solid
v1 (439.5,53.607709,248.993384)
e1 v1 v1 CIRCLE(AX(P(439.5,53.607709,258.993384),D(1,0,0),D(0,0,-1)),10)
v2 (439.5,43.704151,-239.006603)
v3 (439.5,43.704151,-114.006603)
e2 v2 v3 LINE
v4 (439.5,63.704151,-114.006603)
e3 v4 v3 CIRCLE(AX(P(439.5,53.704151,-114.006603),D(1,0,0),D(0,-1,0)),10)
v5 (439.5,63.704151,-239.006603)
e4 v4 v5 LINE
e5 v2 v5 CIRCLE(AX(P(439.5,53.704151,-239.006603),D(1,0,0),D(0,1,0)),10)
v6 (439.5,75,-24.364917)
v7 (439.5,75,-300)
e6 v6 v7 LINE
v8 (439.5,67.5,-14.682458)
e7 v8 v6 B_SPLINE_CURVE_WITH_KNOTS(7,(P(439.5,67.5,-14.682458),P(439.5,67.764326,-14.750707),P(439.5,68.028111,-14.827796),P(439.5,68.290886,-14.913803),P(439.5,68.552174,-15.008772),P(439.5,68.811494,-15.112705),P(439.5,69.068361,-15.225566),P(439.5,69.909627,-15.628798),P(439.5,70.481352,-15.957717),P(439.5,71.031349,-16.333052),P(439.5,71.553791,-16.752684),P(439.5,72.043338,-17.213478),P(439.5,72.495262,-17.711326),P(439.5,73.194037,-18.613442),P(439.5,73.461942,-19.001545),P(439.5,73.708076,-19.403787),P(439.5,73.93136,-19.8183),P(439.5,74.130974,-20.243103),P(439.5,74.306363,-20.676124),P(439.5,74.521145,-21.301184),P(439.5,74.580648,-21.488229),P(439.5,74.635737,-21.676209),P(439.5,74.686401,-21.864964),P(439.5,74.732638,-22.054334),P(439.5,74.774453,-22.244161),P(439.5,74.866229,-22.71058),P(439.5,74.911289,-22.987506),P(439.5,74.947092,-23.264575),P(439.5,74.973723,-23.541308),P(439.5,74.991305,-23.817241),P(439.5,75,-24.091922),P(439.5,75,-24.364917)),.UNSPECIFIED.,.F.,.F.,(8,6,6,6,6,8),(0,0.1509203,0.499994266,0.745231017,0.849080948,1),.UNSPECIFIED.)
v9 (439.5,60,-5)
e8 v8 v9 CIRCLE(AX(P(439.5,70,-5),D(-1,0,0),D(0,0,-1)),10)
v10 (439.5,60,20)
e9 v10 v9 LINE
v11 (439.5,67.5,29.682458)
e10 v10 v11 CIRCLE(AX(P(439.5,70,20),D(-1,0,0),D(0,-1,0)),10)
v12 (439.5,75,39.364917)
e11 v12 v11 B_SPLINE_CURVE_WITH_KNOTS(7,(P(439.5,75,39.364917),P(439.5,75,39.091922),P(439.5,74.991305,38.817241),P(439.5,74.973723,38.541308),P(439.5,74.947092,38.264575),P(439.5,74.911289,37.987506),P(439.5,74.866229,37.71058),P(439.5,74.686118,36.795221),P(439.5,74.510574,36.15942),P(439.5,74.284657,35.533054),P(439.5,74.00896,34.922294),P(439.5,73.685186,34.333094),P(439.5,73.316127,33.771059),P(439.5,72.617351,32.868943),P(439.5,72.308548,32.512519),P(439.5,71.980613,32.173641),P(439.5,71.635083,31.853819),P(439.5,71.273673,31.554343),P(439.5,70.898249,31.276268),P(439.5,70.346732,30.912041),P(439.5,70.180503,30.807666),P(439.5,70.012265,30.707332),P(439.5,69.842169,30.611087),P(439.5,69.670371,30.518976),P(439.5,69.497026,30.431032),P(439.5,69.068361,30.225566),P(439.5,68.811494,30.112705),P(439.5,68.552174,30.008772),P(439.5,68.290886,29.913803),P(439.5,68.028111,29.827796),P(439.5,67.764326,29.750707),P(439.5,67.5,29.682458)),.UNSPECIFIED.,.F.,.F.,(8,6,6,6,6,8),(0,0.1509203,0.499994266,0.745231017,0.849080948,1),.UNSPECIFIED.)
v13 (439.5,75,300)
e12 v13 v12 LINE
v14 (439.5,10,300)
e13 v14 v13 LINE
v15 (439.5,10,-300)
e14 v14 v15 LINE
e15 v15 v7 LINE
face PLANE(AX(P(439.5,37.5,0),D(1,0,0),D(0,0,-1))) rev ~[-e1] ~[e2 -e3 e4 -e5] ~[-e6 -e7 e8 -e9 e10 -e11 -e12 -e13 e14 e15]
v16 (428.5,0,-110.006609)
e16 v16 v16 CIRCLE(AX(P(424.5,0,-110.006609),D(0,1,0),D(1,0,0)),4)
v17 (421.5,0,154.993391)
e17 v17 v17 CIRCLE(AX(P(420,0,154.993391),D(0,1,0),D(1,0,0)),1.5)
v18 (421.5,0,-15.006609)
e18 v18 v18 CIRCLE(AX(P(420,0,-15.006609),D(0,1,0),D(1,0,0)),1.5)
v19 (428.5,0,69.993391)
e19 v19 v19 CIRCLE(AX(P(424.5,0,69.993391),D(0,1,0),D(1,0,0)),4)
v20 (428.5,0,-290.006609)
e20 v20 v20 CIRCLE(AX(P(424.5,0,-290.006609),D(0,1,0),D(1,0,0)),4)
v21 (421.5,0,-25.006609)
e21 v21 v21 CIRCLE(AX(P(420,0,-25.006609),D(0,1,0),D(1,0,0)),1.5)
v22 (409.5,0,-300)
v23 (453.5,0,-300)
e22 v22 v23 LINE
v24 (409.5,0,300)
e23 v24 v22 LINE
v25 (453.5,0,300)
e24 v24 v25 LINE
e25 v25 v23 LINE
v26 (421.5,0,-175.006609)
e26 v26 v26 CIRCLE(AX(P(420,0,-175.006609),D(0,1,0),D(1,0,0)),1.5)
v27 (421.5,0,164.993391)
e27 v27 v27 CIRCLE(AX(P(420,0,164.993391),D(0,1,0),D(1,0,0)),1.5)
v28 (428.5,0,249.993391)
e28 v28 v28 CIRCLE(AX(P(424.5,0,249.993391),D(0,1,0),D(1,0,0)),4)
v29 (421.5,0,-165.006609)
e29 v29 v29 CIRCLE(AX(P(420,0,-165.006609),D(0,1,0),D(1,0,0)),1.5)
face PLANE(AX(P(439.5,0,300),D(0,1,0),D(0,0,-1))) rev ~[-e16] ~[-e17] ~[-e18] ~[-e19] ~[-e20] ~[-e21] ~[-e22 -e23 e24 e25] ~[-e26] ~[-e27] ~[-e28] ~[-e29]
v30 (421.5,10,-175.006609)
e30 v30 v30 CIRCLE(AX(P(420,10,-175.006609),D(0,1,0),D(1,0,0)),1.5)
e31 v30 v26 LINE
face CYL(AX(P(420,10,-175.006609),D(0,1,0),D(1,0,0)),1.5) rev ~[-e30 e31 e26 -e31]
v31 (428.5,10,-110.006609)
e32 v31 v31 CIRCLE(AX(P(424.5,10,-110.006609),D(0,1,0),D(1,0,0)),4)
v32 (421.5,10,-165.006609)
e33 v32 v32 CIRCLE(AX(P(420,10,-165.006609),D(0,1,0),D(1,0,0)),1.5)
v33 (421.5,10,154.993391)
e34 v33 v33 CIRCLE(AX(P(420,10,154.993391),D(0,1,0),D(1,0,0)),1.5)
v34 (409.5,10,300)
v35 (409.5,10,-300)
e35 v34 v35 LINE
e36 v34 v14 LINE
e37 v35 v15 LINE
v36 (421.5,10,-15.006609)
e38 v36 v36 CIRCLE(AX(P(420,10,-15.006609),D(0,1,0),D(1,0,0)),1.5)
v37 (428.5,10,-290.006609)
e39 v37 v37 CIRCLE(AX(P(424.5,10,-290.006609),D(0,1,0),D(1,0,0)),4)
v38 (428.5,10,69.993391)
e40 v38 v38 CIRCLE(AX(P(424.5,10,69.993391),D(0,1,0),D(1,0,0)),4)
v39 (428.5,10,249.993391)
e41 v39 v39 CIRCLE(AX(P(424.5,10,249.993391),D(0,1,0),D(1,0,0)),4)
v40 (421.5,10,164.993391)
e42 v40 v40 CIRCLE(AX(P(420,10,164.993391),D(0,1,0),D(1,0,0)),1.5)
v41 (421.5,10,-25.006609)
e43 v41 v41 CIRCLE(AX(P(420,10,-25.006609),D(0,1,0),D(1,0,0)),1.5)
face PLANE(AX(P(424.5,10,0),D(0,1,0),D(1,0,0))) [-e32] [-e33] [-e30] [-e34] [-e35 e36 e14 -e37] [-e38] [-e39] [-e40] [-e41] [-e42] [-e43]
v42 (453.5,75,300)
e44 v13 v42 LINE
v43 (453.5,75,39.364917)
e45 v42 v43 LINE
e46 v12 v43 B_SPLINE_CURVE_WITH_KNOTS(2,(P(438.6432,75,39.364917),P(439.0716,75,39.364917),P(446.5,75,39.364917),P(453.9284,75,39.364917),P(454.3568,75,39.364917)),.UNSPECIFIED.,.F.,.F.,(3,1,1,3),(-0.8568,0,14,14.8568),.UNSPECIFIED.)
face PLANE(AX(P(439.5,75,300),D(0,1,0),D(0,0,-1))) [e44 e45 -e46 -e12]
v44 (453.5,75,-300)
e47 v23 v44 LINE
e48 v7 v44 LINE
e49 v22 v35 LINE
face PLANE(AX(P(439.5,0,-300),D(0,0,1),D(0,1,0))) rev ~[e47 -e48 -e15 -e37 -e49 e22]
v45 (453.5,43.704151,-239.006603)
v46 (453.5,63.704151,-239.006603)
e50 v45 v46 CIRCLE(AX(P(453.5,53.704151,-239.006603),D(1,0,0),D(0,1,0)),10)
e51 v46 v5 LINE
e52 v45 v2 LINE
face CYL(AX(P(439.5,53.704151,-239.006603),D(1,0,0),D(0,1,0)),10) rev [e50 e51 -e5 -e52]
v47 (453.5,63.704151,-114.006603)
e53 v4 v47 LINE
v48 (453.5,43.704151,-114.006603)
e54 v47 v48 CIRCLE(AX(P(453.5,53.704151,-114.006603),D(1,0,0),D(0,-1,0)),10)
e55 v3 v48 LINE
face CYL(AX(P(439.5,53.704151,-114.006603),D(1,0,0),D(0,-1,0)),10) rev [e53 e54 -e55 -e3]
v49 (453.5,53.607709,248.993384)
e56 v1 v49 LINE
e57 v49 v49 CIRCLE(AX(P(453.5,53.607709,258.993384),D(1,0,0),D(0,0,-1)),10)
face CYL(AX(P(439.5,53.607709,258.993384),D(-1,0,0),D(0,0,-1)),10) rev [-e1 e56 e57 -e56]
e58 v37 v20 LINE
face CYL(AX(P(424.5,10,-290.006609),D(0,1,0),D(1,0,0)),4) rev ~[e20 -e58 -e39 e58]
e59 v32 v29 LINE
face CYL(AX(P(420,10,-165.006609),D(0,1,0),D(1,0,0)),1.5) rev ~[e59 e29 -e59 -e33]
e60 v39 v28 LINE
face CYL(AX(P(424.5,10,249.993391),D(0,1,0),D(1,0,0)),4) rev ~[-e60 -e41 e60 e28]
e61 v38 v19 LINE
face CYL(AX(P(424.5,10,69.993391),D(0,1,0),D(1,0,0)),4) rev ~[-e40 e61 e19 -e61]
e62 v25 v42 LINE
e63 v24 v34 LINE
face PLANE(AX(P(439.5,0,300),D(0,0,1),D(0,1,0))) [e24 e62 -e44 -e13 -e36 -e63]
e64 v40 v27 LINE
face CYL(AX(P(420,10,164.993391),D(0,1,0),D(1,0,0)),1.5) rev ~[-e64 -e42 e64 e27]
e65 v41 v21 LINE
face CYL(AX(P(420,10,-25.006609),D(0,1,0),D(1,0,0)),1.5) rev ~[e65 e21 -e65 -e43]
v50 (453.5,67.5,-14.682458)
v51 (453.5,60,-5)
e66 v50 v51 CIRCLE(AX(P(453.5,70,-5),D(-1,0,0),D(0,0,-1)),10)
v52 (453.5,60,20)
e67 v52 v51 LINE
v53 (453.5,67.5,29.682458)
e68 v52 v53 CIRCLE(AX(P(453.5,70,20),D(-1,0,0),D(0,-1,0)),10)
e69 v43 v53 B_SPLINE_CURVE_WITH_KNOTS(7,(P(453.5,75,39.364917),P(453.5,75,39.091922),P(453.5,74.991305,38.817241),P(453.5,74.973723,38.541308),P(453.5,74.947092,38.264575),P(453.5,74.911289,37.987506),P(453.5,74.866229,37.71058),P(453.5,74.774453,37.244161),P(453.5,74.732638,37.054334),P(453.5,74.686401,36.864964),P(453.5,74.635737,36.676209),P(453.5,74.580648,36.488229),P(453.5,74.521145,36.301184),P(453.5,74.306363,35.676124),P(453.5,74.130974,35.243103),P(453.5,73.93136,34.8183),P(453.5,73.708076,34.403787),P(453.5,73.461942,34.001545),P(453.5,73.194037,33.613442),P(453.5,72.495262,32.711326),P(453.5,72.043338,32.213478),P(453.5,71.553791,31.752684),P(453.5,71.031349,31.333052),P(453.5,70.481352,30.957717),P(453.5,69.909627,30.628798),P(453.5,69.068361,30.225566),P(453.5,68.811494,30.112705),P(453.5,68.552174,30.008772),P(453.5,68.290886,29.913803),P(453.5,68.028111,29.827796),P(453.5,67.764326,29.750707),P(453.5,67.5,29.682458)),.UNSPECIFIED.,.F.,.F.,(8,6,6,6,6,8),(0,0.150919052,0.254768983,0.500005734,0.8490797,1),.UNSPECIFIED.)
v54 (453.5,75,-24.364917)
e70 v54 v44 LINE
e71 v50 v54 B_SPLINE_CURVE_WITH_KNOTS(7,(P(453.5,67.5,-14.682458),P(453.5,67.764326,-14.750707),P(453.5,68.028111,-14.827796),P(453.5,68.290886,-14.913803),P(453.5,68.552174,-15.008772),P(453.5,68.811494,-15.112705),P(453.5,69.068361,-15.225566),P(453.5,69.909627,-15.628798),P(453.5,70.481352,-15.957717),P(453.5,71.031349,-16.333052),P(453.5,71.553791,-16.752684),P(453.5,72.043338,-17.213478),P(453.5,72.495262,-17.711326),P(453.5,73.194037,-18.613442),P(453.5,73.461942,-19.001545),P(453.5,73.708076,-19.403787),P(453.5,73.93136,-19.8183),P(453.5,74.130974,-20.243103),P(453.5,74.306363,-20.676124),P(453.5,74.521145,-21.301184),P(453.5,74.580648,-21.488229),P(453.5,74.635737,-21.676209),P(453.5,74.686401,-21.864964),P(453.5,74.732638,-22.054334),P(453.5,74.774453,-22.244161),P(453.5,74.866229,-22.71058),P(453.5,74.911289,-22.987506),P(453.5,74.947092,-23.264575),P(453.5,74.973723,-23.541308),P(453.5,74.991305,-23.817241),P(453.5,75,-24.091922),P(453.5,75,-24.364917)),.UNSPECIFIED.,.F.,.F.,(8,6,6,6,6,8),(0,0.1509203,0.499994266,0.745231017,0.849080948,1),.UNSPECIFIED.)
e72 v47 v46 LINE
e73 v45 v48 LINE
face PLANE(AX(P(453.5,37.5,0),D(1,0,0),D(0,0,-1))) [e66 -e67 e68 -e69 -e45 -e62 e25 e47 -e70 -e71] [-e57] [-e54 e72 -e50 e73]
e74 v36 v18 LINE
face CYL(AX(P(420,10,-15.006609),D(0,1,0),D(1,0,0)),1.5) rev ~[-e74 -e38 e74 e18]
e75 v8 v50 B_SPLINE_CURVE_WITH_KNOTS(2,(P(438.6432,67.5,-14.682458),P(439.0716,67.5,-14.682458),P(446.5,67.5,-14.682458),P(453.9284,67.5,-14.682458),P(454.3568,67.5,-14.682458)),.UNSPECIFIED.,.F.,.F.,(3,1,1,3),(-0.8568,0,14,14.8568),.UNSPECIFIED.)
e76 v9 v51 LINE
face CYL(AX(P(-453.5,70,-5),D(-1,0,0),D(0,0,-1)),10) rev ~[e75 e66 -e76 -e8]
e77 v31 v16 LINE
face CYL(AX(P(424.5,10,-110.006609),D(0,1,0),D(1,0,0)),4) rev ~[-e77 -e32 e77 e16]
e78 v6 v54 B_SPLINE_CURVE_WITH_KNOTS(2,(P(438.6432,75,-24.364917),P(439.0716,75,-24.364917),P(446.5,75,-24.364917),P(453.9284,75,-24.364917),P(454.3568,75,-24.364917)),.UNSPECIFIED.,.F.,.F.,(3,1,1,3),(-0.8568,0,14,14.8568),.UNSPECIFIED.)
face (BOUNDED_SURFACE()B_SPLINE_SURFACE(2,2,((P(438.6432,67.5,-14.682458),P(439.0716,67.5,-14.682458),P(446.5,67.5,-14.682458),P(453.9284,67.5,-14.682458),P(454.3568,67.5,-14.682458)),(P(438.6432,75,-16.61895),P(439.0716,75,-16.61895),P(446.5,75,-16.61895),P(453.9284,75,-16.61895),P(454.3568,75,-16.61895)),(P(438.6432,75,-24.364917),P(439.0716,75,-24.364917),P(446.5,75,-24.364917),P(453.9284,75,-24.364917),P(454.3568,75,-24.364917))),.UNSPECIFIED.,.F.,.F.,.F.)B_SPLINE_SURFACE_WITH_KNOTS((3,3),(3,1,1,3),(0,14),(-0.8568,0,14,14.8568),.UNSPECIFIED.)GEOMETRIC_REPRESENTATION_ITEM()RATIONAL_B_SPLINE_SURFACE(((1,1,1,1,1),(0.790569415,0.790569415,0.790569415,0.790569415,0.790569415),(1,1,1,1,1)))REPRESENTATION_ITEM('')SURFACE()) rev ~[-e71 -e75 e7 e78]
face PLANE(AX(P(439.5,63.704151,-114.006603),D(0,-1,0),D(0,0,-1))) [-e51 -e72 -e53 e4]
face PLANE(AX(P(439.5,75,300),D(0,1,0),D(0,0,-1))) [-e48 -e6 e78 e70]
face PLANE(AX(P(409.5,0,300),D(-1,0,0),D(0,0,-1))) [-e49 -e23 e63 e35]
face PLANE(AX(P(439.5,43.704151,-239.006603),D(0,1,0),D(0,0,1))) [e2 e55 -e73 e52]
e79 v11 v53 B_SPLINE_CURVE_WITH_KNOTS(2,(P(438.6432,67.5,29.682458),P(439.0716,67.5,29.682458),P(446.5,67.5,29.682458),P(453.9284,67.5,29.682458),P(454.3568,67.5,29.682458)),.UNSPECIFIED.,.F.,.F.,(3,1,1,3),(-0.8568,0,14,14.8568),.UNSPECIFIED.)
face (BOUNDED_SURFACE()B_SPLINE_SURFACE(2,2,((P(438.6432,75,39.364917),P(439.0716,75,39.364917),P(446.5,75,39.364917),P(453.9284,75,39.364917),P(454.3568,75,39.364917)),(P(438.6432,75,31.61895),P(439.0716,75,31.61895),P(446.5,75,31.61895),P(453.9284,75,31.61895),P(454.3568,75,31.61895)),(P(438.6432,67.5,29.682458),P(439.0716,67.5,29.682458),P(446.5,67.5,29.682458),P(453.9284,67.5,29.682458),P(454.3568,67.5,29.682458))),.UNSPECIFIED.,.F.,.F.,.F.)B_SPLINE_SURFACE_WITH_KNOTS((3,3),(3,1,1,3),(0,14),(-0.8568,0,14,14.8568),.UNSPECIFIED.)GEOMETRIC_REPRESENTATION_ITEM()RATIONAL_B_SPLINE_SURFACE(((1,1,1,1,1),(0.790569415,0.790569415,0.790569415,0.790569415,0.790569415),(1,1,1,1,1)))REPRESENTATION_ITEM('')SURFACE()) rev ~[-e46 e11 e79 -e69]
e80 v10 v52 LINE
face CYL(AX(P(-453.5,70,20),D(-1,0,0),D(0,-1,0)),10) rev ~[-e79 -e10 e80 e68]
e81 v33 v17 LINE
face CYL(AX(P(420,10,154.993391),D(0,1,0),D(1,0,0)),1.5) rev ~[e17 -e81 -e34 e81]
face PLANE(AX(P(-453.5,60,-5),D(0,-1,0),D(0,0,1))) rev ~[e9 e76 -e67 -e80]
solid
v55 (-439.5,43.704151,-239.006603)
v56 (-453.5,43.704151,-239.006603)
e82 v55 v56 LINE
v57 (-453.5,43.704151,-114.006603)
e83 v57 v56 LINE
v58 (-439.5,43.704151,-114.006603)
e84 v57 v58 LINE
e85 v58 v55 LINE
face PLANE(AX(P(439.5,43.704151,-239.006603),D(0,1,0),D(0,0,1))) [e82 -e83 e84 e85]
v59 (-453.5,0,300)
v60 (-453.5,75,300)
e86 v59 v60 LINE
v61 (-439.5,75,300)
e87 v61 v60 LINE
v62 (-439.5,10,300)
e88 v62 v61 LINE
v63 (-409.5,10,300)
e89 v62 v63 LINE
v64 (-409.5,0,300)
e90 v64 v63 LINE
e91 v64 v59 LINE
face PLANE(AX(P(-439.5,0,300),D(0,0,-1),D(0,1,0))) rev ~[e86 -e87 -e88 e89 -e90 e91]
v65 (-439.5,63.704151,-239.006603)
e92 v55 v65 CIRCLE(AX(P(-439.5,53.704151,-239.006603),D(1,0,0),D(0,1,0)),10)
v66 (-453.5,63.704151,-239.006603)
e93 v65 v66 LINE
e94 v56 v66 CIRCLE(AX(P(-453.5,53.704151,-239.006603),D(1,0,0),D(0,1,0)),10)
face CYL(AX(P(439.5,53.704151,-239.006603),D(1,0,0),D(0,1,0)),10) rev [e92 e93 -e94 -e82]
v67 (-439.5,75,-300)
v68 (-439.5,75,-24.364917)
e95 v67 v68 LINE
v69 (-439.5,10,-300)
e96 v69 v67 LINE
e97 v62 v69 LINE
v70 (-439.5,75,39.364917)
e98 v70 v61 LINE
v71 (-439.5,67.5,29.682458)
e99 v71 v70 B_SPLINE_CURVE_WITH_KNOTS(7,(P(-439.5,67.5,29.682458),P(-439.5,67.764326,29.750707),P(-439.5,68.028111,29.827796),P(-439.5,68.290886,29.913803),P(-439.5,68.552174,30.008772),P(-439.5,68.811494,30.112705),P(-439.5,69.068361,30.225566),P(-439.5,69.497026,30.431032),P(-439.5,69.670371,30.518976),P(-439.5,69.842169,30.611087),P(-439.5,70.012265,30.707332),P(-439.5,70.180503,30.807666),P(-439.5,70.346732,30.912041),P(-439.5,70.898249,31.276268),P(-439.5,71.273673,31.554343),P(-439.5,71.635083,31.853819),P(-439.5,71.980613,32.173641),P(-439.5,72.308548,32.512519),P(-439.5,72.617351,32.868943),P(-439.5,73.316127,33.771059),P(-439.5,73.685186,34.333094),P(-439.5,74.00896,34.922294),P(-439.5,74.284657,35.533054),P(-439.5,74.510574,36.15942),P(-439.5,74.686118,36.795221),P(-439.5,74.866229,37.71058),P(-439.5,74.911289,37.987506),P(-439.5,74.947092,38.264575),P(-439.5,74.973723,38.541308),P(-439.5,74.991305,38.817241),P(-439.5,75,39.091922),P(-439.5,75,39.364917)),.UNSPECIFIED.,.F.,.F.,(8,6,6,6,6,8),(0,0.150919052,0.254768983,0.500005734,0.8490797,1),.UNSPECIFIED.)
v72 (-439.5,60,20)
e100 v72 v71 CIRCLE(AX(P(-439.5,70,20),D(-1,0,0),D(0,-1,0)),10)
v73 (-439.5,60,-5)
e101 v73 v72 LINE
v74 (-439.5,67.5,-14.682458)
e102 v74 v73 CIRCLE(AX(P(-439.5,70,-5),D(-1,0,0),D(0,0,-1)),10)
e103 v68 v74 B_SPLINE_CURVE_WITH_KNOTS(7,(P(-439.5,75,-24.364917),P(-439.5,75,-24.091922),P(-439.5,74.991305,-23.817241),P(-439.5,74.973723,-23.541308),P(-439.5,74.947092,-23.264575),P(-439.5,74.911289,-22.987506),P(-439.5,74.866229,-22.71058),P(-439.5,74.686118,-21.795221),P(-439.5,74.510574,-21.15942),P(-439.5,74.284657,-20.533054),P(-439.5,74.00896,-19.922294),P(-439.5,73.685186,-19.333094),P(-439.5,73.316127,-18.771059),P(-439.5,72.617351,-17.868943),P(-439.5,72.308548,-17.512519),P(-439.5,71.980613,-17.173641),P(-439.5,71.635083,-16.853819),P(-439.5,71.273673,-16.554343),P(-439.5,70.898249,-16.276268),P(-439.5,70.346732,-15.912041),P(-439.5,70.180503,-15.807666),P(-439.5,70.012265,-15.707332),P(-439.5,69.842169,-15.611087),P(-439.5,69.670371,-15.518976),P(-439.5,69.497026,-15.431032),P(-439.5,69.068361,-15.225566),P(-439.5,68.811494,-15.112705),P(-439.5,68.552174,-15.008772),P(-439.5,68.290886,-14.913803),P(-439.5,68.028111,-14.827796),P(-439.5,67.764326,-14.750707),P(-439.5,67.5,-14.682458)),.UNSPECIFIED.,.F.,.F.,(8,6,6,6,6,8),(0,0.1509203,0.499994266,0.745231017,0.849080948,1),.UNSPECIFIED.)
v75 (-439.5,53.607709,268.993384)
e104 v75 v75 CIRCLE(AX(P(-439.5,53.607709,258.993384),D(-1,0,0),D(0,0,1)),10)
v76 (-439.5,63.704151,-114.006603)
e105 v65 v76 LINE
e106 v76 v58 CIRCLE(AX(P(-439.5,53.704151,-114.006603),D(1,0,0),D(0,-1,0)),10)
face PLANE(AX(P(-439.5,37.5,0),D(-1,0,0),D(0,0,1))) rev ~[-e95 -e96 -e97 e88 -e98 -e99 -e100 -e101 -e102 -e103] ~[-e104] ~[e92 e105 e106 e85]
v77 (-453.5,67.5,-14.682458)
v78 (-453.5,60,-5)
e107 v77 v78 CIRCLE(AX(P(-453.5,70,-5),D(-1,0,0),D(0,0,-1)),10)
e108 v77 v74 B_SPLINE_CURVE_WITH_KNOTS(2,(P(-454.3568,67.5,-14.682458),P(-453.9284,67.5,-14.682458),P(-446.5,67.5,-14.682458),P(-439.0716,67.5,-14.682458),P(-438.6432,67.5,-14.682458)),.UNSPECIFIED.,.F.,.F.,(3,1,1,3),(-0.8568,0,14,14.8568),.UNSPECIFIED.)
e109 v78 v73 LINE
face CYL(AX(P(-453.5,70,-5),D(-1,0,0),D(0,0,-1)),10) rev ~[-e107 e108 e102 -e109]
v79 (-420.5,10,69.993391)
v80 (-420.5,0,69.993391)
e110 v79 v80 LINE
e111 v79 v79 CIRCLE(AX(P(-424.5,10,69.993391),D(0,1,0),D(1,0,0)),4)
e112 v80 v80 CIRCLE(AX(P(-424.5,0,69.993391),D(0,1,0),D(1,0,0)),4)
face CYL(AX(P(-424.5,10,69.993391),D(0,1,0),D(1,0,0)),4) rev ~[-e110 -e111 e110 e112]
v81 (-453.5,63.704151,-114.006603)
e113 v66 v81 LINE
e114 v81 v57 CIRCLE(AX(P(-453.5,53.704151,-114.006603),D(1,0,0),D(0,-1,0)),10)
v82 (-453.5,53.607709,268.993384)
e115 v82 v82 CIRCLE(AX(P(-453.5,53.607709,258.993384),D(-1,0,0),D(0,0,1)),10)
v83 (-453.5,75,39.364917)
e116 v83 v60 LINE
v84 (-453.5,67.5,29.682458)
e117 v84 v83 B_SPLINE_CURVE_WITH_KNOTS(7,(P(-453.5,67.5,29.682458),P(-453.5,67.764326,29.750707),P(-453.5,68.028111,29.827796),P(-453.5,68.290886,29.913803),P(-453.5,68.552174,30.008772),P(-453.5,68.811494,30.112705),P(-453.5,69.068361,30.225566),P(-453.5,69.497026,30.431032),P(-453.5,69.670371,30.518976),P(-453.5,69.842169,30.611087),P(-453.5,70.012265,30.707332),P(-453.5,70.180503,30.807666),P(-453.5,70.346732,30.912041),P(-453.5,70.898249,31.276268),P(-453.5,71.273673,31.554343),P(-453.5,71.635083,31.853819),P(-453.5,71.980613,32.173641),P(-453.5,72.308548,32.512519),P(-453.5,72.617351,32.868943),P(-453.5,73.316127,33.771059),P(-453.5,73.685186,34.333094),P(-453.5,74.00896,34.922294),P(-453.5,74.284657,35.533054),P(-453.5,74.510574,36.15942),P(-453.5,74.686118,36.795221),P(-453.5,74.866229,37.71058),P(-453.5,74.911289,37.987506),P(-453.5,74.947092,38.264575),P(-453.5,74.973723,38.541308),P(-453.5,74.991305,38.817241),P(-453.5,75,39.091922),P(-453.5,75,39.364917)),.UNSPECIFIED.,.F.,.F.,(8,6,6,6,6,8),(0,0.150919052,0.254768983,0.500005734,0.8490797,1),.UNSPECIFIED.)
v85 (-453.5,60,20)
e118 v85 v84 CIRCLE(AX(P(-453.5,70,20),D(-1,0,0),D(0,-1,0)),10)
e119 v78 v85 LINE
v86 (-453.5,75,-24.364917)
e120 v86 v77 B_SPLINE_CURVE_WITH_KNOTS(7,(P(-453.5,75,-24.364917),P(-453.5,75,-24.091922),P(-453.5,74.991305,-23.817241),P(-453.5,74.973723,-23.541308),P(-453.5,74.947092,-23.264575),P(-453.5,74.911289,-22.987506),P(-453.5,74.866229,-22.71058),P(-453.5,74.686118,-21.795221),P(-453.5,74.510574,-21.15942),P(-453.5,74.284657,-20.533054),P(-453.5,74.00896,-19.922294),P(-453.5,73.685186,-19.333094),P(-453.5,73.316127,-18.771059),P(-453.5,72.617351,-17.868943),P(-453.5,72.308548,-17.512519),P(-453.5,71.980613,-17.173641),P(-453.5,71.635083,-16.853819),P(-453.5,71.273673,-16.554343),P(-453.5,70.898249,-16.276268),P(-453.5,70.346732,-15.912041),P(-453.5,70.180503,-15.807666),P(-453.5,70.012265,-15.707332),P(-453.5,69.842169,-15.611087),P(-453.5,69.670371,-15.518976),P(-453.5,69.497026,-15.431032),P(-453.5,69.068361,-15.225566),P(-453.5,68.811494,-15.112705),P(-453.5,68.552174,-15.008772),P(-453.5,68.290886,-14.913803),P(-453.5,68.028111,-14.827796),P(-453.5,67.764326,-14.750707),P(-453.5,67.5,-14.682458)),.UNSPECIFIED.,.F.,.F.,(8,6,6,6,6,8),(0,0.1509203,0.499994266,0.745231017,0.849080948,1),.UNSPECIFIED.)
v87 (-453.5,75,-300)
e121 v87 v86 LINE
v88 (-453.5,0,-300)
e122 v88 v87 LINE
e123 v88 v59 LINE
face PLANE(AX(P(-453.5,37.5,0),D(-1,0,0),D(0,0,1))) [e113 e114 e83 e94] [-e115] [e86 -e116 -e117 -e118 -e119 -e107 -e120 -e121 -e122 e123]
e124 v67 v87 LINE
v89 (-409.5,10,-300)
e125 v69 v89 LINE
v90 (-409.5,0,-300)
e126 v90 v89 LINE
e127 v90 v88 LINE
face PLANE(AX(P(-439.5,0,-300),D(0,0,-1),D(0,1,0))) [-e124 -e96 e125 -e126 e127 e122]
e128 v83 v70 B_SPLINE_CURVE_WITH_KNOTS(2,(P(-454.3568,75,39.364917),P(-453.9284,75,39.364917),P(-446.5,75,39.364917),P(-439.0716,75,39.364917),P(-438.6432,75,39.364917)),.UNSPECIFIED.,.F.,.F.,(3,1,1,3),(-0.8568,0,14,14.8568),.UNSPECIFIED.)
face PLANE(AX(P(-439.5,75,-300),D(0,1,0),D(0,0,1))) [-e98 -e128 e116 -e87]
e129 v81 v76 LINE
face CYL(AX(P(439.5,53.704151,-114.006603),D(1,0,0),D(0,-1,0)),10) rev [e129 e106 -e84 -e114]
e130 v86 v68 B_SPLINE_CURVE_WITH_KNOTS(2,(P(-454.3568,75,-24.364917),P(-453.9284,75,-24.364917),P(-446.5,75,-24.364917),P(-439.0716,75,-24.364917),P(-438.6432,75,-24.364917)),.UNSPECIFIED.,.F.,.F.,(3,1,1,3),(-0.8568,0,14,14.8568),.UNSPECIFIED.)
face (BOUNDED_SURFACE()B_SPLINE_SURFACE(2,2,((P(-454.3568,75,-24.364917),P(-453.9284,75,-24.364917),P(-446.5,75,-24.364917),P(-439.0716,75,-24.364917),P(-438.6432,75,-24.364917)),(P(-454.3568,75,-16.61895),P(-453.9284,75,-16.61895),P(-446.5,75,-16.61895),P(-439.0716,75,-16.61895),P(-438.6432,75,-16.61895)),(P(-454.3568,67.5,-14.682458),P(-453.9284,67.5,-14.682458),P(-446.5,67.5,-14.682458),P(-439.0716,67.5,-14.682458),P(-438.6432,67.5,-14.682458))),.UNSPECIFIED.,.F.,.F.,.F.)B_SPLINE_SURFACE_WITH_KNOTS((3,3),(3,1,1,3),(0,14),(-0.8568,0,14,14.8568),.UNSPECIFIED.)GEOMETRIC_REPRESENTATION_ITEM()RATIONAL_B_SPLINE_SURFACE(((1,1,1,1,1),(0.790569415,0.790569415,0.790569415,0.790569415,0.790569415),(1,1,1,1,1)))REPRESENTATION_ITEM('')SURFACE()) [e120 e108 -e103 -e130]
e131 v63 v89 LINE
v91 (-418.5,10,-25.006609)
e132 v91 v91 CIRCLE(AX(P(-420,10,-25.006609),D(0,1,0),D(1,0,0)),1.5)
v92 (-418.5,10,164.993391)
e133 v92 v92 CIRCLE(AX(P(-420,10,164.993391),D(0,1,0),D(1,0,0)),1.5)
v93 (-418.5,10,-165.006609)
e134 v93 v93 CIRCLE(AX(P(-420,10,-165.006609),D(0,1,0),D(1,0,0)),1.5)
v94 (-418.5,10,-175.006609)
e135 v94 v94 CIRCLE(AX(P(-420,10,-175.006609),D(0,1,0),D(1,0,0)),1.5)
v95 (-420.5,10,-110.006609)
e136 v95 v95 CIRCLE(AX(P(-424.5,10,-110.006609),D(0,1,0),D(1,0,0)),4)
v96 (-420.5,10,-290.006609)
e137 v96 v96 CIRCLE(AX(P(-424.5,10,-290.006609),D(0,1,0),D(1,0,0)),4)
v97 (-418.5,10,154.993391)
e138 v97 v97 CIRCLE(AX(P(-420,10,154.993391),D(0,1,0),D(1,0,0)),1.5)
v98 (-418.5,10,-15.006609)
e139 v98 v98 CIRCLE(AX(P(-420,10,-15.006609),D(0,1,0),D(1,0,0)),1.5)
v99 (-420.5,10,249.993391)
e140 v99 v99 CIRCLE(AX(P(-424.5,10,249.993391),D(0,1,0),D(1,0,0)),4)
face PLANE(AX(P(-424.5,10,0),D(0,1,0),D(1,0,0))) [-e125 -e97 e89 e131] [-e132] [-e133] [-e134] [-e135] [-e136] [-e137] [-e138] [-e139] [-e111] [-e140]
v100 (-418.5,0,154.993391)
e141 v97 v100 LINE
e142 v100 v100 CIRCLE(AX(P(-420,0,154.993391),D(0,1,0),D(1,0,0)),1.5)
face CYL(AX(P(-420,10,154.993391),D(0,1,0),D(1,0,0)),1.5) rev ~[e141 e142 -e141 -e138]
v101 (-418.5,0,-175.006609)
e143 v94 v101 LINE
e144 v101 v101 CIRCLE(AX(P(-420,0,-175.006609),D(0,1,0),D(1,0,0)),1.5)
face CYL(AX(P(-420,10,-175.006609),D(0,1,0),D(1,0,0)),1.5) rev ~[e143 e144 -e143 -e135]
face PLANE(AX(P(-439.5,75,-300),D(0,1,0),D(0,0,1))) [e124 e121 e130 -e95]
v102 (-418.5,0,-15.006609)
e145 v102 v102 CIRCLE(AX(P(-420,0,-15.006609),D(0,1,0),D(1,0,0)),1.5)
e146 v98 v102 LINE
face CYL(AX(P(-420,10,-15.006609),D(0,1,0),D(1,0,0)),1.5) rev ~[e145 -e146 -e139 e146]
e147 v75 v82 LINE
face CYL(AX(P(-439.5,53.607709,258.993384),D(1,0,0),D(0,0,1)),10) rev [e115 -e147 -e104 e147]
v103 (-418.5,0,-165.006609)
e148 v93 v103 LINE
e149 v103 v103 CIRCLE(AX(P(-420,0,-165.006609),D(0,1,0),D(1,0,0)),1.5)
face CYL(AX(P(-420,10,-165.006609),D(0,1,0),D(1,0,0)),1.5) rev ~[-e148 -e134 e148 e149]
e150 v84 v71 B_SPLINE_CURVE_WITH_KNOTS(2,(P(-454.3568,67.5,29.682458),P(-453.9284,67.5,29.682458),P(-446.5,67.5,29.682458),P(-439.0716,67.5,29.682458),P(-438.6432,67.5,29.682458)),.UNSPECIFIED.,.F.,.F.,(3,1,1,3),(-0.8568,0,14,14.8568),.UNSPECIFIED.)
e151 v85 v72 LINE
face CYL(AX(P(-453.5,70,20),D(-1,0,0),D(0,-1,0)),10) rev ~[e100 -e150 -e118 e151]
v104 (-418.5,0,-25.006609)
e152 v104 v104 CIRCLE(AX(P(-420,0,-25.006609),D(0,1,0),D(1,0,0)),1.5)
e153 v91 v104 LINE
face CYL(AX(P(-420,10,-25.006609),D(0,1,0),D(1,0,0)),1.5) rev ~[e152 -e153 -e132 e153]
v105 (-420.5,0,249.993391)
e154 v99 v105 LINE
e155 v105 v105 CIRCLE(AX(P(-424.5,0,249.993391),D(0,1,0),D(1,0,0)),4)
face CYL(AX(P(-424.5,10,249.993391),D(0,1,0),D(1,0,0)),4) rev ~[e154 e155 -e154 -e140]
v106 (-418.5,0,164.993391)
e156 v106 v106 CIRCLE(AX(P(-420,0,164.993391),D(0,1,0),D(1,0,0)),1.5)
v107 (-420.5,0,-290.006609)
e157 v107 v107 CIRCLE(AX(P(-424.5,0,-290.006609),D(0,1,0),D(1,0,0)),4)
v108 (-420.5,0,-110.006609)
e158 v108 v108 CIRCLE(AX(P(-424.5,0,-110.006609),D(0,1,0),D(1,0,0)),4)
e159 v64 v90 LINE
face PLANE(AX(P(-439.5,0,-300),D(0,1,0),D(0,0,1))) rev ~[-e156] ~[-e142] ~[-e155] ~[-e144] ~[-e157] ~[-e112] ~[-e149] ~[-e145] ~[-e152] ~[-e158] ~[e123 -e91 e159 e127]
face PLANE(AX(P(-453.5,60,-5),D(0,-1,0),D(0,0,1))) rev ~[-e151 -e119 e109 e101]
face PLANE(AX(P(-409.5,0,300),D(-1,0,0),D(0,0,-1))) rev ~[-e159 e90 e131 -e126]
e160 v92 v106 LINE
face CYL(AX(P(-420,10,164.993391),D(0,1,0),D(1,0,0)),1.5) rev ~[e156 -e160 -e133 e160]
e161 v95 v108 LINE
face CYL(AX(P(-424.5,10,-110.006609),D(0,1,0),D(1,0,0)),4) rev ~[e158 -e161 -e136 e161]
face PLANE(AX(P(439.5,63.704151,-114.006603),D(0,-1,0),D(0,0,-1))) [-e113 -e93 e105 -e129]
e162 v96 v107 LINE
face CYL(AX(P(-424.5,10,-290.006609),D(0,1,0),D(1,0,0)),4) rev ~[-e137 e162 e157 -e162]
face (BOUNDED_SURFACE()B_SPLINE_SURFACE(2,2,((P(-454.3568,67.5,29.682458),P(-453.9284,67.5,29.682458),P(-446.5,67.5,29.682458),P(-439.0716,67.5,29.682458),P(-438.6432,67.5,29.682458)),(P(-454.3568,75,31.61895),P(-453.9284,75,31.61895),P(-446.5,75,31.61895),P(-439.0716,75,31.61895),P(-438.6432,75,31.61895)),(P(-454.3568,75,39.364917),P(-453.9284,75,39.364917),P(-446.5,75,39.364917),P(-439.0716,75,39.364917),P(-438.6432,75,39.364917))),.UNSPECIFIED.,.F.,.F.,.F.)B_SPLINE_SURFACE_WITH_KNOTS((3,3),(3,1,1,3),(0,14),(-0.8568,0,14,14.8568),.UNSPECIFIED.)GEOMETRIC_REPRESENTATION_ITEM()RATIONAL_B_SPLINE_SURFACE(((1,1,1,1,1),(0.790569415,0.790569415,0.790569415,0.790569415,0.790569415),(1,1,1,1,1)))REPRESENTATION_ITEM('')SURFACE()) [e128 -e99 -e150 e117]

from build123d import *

# Parameters (mm, degrees)
SKETCH1_W                = 30
SKETCH1_H                = 600
BOSS_EXTRUDE1_DEPTH      = 10
BOSS_EXTRUDE1_2_DEPTH    = 10
SKETCH_2_W               = 600
SKETCH_2_H               = 75
SKETCH_2_R               = 10
EXTRUDE_1_DEPTH          = 14
SKETCH_3_W               = 600
SKETCH_3_H               = 75
SKETCH_3_R               = 10
EXTRUDE_2_DEPTH          = 14
CUT_EXTRUDE_4_DEPTH      = 57
CUT_EXTRUDE_4_DEPTH_BACK = 1083
SKETCH_8_R               = 4
CUT_EXTRUDE_5_DEPTH      = 96
CUT_EXTRUDE_6_DEPTH      = 1028
FILLET_1_R               = 10
FILLET_2_R               = 10
SKETCH_11_R              = 1.5
CUT_EXTRUDE_7_DEPTH      = 10


with BuildPart() as part:
    # Sketch1 → Boss-Extrude1 (new body)
    with BuildSketch(Plane(origin=(0, 0, 0), x_dir=(1, 0, 0), z_dir=(0, 1, 0))):
        with Locations((-424.5, 0)):
            Rectangle(SKETCH1_W, SKETCH1_H)
    extrude(amount=BOSS_EXTRUDE1_DEPTH)

    # 草图2 → 凸台-拉伸1 (add)
    with BuildSketch(Plane.ZY.offset(439.5)):
        with Locations((0, 37.5)):
            Rectangle(SKETCH_2_W, SKETCH_2_H)
        with Locations((258.993384408, 53.607709477)):
            Circle(SKETCH_2_R, mode=Mode.SUBTRACT)
    extrude(amount=EXTRUDE_1_DEPTH)


with BuildPart() as body_2:
    # Sketch1 → Boss-Extrude1 2 (new body)
    with BuildSketch(Plane(origin=(0, 0, 0), x_dir=(1, 0, 0), z_dir=(0, 1, 0))):
        with Locations((424.5, 0)):
            Rectangle(SKETCH1_W, SKETCH1_H)
    extrude(amount=BOSS_EXTRUDE1_2_DEPTH)

    # 草图3 → 凸台-拉伸2 (add)
    with BuildSketch(Plane(origin=(439.5, 0, 0), x_dir=(0, 0, -1), z_dir=(1, 0, 0))):
        with Locations((0, 37.5)):
            Rectangle(SKETCH_3_W, SKETCH_3_H)
        with Locations((-258.993384408, 53.607709477)):
            Circle(SKETCH_3_R, mode=Mode.SUBTRACT)
    extrude(amount=EXTRUDE_2_DEPTH)


with BuildPart() as cut_extrude_4_tool:
    # 草图5 → 切除-拉伸4 (new body, two sides)
    with BuildSketch(Plane(origin=(439.5, 0, 0), x_dir=(0, 0, -1), z_dir=(1, 0, 0))) as cut_extrude_4_sk:
        with BuildLine():
            Line((114.006603289, 63.704150634), (239.006603289, 63.704150634))
            ThreePointArc((239.006603289, 63.704150634), (249.006603289, 53.704150634), (239.006603289, 43.704150634))
            Line((239.006603289, 43.704150634), (114.006603289, 43.704150634))
            ThreePointArc((114.006603289, 43.704150634), (104.006603289, 53.704150634), (114.006603289, 63.704150634))
        make_face()
    extrude(amount=CUT_EXTRUDE_4_DEPTH)
    extrude(cut_extrude_4_sk.sketch, amount=-CUT_EXTRUDE_4_DEPTH_BACK)


with BuildPart() as part_1:
    add(part.part)

    # 切除-拉伸4: cut by cut_extrude_4_tool
    add(cut_extrude_4_tool.part, mode=Mode.SUBTRACT)


with BuildPart() as body_2_1:
    add(body_2.part)

    # 切除-拉伸4: cut by cut_extrude_4_tool
    add(cut_extrude_4_tool.part, mode=Mode.SUBTRACT)


with BuildPart() as cut_extrude_5_tool:
    # 草图8 → 切除-拉伸5 (new body)
    with BuildSketch(Plane(origin=(0, 10, 0), x_dir=(1, 0, 0), z_dir=(0, 1, 0))):
        with Locations((424.5, -69.99339056)):
            Circle(SKETCH_8_R)
        with Locations((424.5, 110.00660944)):
            Circle(SKETCH_8_R)
        with Locations((424.5, 290.00660944)):
            Circle(SKETCH_8_R)
        with Locations((424.5, -249.99339056)):
            Circle(SKETCH_8_R)
        with Locations((-424.5, -249.99339056)):
            Circle(SKETCH_8_R)
        with Locations((-424.5, 290.00660944)):
            Circle(SKETCH_8_R)
        with Locations((-424.5, 110.00660944)):
            Circle(SKETCH_8_R)
        with Locations((-424.5, -69.99339056)):
            Circle(SKETCH_8_R)
    extrude(amount=-CUT_EXTRUDE_5_DEPTH)


with BuildPart() as part_2:
    add(part_1.part)

    # 切除-拉伸5: cut by cut_extrude_5_tool
    add(cut_extrude_5_tool.part, mode=Mode.SUBTRACT)


with BuildPart() as body_2_2:
    add(body_2_1.part)

    # 切除-拉伸5: cut by cut_extrude_5_tool
    add(cut_extrude_5_tool.part, mode=Mode.SUBTRACT)


with BuildPart() as cut_extrude_6_tool:
    # 草图9 → 切除-拉伸6 (new body)
    with BuildSketch(Plane.ZY.offset(453.5)):
        with BuildLine():
            Line((0, 60), (20, 60))
            ThreePointArc((20, 60), (27.071067812, 62.928932188), (30, 70))
            Line((30, 70), (30, 75))
            Line((30, 75), (0, 75))
            Line((0, 75), (-15, 75))
            Line((-15, 75), (-15, 70))
            ThreePointArc((-15, 70), (-12.071067812, 62.928932188), (-5, 60))
            Line((-5, 60), (0, 60))
        make_face()
    extrude(amount=-CUT_EXTRUDE_6_DEPTH)


with BuildPart() as part_3:
    add(part_2.part)

    # 切除-拉伸6: cut by cut_extrude_6_tool
    add(cut_extrude_6_tool.part, mode=Mode.SUBTRACT)

    # 圆角1
    fillet_1_edges = [part_3.edges().sort_by_distance(p)[0] for p in [
        (-446.5, 75, 30),
        (-446.5, 75, -15),
    ]]
    fillet(fillet_1_edges, radius=FILLET_1_R)


with BuildPart() as body_2_3:
    add(body_2_2.part)

    # 切除-拉伸6: cut by cut_extrude_6_tool
    add(cut_extrude_6_tool.part, mode=Mode.SUBTRACT)

    # 圆角2
    fillet_2_edges = [body_2_3.edges().sort_by_distance(p)[0] for p in [
        (446.5, 75, 30),
        (446.5, 75, -15),
    ]]
    fillet(fillet_2_edges, radius=FILLET_2_R)


with BuildPart() as cut_extrude_7_tool:
    # 草图11 → 切除-拉伸7 (new body)
    with BuildSketch(Plane(origin=(0, 10, 0), x_dir=(1, 0, 0), z_dir=(0, 1, 0))):
        with Locations((-420, -154.99339056)):
            Circle(SKETCH_11_R)
        with Locations((-420, -164.99339056)):
            Circle(SKETCH_11_R)
        with Locations((-420, 25.00660944)):
            Circle(SKETCH_11_R)
        with Locations((-420, 15.00660944)):
            Circle(SKETCH_11_R)
        with Locations((420, 165.00660944)):
            Circle(SKETCH_11_R)
        with Locations((-420, 175.00660944)):
            Circle(SKETCH_11_R)
        with Locations((420, 175.00660944)):
            Circle(SKETCH_11_R)
        with Locations((-420, 165.00660944)):
            Circle(SKETCH_11_R)
        with Locations((420, 15.00660944)):
            Circle(SKETCH_11_R)
        with Locations((420, 25.00660944)):
            Circle(SKETCH_11_R)
        with Locations((420, -164.99339056)):
            Circle(SKETCH_11_R)
        with Locations((420, -154.99339056)):
            Circle(SKETCH_11_R)
    extrude(amount=-CUT_EXTRUDE_7_DEPTH)


with BuildPart() as part_4:
    add(part_3.part)

    # 切除-拉伸7: cut by cut_extrude_7_tool
    add(cut_extrude_7_tool.part, mode=Mode.SUBTRACT)


with BuildPart() as body_2_4:
    add(body_2_3.part)

    # 切除-拉伸7: cut by cut_extrude_7_tool
    add(cut_extrude_7_tool.part, mode=Mode.SUBTRACT)


solid = Compound([part_4.part, body_2_4.part])
